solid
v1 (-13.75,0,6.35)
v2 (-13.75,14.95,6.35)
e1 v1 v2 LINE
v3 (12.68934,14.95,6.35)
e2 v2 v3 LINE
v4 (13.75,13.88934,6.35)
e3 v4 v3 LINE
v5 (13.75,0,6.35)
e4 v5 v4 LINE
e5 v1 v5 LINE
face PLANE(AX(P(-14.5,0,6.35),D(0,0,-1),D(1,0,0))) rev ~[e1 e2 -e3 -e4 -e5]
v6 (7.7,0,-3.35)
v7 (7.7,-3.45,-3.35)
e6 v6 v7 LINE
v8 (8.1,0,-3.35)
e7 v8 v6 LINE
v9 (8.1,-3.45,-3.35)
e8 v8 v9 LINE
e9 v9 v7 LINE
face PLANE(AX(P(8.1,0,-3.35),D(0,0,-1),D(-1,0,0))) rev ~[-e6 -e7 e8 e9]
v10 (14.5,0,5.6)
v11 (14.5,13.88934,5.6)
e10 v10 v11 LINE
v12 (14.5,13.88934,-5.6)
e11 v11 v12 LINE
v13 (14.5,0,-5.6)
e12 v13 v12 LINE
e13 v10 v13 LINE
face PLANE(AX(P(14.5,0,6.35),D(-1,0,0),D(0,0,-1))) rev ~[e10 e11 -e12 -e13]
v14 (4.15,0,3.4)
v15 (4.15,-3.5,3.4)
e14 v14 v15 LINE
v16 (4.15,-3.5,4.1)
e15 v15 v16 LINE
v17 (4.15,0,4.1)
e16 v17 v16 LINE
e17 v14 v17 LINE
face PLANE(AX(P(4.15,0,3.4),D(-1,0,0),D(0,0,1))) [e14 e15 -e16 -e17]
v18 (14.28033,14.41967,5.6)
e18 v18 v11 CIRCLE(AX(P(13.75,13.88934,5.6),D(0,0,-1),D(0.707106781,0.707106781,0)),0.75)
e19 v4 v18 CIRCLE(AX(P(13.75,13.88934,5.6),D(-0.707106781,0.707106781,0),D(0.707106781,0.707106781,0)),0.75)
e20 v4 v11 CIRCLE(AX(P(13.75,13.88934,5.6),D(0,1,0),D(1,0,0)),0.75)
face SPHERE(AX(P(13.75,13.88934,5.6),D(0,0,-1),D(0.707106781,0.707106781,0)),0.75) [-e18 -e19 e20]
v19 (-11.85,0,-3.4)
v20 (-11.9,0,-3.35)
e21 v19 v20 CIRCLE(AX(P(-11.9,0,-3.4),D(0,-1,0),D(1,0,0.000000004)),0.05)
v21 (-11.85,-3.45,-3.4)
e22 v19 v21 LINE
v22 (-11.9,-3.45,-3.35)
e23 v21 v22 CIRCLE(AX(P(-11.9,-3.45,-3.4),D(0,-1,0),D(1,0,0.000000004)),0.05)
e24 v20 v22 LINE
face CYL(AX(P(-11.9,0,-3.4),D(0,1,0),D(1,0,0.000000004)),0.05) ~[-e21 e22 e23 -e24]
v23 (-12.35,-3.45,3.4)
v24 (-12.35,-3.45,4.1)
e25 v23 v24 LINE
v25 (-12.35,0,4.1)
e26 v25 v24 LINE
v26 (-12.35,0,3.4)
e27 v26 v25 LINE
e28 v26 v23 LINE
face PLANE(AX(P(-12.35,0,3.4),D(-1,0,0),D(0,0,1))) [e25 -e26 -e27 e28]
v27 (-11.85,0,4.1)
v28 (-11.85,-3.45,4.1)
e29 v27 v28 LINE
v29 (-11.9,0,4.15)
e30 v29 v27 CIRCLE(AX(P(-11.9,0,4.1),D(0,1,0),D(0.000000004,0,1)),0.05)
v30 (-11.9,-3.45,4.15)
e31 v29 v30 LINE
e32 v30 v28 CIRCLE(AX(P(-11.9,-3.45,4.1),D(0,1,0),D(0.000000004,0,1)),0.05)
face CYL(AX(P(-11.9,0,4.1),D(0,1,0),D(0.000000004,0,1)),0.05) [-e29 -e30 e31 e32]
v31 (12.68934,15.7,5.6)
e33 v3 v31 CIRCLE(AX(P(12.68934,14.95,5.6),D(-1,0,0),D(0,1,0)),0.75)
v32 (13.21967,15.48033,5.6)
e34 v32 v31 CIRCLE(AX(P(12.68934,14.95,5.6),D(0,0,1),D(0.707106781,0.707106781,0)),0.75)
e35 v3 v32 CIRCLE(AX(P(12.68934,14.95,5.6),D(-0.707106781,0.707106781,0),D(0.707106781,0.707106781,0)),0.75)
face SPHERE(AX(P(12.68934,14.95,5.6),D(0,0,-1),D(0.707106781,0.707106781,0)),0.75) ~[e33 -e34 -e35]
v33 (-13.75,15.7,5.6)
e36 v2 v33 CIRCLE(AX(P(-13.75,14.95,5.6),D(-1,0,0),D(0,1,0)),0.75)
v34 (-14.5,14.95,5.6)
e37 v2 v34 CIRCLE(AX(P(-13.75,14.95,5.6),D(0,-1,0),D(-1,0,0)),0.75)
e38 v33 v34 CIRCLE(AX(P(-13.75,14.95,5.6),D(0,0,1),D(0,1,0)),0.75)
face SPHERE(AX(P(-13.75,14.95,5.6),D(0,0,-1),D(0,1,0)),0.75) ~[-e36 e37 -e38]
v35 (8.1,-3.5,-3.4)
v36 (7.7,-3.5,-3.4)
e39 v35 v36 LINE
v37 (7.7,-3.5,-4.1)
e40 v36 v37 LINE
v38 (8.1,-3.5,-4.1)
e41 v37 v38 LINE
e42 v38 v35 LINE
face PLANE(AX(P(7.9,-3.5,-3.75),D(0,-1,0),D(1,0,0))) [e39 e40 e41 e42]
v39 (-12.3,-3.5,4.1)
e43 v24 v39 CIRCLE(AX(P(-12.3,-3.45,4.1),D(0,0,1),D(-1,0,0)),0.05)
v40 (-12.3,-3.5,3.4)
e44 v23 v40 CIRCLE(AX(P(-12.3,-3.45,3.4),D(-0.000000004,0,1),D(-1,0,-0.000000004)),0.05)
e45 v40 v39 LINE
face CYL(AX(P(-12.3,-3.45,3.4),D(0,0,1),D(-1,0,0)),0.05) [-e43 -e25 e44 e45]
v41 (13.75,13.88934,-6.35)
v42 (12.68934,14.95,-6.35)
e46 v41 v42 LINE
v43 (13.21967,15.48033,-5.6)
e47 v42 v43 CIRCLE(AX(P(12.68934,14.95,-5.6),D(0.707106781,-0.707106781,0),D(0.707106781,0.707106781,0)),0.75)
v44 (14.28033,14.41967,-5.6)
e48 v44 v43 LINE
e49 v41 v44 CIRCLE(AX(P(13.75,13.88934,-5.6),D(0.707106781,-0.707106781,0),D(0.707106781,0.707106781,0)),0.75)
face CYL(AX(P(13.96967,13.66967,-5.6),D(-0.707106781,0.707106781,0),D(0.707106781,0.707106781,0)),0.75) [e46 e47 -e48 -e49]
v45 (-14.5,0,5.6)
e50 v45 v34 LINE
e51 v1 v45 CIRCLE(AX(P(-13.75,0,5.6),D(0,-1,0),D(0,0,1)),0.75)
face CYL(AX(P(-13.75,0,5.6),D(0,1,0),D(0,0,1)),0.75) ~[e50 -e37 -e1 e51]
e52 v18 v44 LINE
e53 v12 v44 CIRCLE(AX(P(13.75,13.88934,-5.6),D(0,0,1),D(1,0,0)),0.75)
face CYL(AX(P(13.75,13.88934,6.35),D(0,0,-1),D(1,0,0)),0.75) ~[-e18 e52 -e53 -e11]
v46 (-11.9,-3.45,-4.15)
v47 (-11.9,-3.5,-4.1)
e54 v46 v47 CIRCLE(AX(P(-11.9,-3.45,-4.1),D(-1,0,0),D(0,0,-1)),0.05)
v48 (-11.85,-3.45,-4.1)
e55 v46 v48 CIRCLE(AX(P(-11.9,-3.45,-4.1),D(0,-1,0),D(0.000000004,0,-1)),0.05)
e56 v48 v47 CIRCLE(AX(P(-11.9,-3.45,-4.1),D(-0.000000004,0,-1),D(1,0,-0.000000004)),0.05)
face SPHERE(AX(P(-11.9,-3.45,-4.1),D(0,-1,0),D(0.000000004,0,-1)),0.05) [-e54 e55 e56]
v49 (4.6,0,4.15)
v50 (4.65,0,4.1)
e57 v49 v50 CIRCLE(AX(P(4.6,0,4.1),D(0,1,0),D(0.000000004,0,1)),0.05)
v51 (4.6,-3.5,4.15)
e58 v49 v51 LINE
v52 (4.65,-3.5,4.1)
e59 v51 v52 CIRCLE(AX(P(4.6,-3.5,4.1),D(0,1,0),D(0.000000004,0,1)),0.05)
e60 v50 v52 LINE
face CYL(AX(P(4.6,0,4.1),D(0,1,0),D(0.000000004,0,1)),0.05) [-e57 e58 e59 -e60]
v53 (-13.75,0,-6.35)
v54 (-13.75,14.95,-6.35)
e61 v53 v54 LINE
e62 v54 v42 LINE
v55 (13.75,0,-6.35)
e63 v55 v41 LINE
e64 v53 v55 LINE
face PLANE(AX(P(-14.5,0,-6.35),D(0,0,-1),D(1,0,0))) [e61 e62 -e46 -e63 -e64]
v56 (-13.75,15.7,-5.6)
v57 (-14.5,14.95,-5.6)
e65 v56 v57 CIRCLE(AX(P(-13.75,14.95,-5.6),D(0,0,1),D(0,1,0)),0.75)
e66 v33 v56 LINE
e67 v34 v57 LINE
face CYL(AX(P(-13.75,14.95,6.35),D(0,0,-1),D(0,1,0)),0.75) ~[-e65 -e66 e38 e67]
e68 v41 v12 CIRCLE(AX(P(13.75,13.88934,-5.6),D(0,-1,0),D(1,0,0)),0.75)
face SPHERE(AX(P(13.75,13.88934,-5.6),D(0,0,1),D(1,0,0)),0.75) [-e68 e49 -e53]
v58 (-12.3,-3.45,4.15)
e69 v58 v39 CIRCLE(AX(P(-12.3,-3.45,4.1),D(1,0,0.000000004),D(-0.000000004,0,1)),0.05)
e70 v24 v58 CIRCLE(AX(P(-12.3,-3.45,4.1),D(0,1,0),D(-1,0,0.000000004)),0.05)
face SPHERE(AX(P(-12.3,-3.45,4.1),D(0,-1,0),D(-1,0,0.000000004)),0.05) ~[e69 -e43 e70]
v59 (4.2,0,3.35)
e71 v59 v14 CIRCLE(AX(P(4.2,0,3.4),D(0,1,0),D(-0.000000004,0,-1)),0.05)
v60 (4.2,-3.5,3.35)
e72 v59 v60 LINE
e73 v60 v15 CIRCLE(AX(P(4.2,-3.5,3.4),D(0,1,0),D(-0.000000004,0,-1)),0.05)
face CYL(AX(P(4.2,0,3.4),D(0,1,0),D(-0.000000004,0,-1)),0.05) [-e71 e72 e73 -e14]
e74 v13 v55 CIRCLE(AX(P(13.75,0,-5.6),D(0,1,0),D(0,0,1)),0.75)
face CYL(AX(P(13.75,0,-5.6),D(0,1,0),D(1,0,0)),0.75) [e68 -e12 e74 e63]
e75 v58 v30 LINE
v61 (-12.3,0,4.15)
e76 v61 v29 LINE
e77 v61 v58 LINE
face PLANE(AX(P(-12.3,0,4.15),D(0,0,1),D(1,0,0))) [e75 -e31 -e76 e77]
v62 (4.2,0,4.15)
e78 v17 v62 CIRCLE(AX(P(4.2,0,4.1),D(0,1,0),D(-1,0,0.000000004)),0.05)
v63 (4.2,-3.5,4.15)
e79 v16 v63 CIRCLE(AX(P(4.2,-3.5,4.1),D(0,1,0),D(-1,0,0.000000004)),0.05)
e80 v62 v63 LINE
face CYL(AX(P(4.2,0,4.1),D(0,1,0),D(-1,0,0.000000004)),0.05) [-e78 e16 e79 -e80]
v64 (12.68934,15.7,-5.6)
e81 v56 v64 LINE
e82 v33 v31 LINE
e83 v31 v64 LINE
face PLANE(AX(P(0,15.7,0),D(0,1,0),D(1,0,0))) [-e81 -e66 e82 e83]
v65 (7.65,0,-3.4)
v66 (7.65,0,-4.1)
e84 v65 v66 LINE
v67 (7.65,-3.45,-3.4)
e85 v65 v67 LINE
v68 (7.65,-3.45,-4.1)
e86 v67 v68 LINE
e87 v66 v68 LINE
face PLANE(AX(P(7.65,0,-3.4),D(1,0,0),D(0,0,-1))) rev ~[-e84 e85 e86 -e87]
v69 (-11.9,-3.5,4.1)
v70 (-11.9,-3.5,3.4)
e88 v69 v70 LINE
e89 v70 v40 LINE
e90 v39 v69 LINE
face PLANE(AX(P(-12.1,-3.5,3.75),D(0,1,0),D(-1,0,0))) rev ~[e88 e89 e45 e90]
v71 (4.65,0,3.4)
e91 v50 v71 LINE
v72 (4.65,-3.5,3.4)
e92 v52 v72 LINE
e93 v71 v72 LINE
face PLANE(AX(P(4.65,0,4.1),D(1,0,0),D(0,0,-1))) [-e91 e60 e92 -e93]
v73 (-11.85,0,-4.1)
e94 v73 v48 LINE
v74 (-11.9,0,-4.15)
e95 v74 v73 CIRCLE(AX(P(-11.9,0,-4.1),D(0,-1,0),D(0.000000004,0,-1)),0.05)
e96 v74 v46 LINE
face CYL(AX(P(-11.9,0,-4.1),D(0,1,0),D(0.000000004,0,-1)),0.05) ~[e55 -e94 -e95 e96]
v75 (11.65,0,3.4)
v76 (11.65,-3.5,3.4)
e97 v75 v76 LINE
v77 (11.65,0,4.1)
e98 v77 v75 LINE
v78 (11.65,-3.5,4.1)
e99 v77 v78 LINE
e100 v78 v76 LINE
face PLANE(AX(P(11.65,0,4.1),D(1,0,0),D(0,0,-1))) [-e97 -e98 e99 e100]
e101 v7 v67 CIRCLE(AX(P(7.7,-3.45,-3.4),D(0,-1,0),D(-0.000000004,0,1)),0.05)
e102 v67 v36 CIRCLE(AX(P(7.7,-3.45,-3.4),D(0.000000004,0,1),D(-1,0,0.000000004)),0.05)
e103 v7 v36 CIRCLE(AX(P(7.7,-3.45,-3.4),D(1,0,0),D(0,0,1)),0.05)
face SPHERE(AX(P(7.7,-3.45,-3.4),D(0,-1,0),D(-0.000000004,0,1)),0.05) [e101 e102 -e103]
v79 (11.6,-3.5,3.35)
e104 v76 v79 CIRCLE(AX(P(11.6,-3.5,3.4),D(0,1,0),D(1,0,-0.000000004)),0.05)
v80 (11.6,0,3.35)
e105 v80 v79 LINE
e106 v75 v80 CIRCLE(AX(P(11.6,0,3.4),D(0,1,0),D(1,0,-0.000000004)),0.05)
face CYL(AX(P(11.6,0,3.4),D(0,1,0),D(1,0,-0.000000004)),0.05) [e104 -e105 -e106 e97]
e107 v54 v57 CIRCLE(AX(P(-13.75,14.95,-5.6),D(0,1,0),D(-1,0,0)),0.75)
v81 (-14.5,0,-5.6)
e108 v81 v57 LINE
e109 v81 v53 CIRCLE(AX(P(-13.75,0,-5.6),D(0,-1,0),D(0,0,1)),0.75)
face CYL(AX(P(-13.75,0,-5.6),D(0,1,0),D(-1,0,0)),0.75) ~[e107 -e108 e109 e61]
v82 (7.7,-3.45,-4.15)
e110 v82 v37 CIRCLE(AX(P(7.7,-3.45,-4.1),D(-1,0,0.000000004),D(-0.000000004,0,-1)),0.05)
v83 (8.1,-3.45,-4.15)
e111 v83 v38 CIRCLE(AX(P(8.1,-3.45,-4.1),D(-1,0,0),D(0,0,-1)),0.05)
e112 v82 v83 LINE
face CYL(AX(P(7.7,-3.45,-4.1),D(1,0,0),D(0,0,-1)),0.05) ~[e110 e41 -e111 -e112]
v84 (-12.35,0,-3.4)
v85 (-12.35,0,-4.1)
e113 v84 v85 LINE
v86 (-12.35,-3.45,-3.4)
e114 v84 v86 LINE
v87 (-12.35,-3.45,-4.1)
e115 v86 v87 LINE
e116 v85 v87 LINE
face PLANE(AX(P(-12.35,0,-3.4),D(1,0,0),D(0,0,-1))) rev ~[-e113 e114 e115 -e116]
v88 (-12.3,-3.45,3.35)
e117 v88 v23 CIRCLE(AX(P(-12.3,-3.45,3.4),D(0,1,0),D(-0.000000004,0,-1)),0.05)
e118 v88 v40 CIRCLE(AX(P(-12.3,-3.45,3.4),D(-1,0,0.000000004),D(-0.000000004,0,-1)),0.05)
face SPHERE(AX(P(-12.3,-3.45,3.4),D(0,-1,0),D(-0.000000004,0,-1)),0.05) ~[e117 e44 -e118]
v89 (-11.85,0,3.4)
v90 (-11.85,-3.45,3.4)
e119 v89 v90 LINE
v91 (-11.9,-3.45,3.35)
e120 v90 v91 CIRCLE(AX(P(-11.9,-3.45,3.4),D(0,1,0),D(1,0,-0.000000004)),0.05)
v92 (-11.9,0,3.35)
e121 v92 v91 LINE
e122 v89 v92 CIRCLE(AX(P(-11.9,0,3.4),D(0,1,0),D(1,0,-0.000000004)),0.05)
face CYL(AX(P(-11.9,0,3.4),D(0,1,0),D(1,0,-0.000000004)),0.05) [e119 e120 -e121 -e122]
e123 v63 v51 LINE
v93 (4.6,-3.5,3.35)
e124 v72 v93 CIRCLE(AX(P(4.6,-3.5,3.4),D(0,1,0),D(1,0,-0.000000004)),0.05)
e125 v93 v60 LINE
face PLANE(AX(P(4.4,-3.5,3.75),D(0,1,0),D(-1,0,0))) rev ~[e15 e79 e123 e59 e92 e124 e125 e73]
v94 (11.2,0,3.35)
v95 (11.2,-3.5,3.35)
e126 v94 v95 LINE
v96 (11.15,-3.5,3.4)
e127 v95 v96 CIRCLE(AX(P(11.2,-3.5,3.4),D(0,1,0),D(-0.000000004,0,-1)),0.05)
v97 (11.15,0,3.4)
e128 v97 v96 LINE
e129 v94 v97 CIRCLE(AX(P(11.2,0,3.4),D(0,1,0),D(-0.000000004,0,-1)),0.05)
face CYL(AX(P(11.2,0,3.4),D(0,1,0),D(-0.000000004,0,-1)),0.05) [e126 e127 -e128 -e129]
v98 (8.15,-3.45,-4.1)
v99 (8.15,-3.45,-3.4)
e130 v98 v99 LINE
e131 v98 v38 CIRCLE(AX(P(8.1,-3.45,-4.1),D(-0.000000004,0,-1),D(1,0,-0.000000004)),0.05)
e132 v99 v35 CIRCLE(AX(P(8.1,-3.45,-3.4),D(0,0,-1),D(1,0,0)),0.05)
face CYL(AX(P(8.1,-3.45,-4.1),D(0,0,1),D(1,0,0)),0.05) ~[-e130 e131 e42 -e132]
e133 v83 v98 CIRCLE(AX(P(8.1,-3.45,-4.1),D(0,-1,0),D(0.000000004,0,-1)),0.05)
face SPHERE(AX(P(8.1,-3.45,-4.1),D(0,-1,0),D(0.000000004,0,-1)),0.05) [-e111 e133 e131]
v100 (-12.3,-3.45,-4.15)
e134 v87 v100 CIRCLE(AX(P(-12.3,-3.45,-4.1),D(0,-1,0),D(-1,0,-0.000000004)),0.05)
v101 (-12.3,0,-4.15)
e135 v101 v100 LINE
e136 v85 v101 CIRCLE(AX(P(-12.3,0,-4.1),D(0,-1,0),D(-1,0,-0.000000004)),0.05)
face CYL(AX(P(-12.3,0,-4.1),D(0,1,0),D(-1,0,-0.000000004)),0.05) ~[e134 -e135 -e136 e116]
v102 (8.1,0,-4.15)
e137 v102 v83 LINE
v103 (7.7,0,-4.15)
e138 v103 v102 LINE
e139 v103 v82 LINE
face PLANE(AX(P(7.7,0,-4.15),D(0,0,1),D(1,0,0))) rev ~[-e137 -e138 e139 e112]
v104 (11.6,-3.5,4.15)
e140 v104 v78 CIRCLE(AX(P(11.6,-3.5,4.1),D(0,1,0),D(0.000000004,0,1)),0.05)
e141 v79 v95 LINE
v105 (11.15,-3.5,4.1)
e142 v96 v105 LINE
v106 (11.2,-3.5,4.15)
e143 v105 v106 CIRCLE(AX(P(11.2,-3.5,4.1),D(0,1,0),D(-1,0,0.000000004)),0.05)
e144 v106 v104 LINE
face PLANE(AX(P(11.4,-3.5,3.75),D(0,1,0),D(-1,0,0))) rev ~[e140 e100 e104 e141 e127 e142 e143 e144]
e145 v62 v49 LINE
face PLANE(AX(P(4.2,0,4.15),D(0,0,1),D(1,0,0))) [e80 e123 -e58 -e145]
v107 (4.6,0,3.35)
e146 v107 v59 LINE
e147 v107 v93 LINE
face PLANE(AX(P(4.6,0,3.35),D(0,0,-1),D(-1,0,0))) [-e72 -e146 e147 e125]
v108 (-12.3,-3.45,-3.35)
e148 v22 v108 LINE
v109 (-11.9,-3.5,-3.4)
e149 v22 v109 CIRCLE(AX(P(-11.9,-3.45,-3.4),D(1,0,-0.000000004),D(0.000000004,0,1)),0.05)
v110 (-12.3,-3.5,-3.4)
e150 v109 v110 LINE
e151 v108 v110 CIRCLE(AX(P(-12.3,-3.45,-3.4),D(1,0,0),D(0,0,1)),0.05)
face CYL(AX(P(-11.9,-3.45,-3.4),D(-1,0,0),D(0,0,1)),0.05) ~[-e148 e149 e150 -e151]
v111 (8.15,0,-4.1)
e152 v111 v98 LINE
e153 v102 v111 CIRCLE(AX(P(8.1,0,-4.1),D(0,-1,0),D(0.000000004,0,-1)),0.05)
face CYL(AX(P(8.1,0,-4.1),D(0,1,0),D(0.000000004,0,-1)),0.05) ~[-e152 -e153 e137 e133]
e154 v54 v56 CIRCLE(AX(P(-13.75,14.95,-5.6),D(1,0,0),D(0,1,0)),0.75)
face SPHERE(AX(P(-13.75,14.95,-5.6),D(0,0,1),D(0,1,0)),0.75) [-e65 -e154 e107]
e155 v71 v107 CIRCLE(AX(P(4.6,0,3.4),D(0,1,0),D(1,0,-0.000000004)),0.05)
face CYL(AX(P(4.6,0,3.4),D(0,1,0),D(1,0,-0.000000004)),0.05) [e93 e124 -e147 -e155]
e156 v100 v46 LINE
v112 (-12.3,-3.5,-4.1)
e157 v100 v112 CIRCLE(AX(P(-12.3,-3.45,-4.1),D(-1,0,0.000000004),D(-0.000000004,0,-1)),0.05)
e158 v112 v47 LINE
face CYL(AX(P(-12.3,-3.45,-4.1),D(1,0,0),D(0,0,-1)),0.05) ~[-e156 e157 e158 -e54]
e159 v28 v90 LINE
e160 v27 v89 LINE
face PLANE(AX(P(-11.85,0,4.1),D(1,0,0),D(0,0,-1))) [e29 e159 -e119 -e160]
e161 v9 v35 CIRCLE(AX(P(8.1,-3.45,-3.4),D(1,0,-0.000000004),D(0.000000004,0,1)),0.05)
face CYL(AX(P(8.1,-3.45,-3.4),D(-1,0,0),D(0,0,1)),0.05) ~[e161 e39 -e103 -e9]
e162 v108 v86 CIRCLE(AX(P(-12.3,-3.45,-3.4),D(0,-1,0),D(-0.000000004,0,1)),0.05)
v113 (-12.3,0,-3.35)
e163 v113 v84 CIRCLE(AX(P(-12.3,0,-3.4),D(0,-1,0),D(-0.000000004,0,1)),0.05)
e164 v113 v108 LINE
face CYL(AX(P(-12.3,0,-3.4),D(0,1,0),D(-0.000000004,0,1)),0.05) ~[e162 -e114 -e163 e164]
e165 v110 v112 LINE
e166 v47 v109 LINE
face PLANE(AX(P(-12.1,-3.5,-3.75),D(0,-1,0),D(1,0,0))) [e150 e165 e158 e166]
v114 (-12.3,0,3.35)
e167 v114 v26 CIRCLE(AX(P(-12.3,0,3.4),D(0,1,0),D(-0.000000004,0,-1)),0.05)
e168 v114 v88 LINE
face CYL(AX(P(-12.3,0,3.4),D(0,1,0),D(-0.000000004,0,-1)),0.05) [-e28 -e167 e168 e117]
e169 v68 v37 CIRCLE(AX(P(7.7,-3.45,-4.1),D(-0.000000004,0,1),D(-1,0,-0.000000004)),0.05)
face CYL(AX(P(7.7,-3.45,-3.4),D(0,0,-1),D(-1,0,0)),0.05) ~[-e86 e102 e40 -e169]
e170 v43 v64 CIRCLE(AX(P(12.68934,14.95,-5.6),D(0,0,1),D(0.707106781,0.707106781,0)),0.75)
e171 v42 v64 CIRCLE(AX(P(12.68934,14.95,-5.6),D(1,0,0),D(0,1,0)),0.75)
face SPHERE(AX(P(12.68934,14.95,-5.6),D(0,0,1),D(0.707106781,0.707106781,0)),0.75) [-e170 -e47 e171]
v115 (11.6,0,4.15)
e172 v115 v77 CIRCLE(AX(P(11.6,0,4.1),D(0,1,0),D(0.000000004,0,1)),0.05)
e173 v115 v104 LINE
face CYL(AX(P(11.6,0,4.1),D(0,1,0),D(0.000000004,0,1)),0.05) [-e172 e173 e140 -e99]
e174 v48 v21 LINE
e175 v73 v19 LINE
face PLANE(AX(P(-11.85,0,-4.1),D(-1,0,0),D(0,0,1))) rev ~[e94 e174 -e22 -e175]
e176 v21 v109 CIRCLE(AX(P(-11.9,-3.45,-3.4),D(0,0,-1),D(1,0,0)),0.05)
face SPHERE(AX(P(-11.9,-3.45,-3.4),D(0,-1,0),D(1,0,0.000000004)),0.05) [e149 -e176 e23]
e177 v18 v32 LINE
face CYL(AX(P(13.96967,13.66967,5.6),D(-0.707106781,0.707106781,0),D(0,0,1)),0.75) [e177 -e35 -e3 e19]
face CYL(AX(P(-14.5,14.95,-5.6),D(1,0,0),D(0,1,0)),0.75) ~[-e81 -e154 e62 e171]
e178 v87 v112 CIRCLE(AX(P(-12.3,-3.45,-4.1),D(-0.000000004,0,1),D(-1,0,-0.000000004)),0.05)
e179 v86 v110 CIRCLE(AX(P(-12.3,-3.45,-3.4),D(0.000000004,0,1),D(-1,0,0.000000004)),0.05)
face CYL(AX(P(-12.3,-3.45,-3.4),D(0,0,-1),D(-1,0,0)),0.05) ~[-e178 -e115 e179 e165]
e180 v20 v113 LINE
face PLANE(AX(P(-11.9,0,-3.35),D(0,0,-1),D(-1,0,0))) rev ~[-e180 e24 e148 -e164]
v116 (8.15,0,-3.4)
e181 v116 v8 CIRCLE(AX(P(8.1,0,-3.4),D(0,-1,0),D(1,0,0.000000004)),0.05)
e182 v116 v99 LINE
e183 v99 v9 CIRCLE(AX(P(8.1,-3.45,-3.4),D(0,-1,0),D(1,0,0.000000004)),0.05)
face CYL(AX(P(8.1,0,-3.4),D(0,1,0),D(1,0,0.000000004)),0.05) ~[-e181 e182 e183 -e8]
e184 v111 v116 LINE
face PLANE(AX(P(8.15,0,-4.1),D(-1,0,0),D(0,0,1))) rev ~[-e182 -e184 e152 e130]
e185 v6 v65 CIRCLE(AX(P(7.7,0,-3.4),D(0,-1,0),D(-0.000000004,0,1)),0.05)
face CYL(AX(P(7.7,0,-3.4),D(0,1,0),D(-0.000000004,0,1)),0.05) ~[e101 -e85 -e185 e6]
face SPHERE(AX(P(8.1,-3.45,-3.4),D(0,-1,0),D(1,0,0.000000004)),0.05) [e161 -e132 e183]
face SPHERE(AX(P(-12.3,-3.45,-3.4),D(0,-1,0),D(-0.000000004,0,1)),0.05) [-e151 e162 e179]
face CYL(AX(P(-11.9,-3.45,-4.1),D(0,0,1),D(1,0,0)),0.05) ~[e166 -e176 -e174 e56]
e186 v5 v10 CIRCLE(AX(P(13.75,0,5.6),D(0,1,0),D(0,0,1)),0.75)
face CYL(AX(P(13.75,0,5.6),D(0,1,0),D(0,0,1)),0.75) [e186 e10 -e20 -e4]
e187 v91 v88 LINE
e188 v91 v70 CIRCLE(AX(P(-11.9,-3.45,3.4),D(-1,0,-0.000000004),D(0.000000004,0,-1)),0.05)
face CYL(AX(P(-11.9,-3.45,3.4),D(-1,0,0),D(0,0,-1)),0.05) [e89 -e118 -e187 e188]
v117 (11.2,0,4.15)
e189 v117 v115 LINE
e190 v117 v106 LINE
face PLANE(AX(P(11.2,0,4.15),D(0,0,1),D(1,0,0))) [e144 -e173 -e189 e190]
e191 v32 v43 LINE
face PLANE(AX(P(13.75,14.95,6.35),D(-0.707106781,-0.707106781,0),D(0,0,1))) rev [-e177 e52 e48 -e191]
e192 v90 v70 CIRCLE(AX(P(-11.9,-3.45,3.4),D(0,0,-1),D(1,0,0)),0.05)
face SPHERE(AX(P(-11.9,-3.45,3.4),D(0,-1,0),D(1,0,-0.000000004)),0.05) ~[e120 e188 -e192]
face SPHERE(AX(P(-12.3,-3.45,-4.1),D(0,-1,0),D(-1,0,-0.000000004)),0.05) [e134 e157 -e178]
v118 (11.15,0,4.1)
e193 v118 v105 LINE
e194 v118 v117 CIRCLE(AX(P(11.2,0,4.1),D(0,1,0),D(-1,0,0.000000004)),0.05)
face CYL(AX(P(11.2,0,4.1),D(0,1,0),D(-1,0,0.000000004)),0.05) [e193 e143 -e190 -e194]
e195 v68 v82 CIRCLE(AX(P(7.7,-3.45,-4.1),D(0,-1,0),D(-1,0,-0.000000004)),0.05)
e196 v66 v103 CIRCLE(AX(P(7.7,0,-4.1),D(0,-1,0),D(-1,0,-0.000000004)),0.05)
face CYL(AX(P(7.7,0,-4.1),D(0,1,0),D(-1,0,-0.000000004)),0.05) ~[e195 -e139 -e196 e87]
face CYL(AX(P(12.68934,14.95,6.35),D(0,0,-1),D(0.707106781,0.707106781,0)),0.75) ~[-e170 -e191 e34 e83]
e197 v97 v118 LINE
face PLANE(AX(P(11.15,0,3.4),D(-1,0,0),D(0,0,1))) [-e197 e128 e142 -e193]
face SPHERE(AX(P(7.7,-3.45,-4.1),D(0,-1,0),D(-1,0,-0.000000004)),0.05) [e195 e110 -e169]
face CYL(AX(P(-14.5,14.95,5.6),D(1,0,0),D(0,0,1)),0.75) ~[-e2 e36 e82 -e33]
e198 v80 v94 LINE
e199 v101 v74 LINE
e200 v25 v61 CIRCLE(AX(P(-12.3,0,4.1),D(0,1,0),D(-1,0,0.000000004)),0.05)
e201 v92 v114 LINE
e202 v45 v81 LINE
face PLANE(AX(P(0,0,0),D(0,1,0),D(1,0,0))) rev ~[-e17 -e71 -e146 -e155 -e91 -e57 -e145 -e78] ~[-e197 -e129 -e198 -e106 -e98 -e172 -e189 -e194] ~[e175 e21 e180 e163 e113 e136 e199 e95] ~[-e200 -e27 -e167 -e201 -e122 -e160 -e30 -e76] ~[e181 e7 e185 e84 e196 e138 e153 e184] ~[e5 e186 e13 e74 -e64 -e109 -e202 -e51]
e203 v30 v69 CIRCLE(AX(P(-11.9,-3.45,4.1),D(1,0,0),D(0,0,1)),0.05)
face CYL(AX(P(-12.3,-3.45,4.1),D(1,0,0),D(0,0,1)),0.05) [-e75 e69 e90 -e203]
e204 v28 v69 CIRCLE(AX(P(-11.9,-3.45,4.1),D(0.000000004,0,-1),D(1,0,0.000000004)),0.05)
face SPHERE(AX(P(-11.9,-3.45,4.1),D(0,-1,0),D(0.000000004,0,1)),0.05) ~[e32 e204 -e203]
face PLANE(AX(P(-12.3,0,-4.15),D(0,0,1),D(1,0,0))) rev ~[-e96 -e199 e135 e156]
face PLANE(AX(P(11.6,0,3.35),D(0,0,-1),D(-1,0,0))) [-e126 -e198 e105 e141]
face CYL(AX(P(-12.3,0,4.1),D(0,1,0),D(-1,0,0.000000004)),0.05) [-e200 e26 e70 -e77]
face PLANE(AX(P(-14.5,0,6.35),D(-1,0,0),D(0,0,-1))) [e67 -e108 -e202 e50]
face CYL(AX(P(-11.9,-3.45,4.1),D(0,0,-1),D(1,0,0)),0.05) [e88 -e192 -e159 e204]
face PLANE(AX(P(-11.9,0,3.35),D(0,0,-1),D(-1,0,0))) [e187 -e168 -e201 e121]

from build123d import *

# Parameters (mm, degrees)
SKETCH_1_W      = 29
SKETCH_1_H      = 12.7
EXTRUDE_1_DEPTH = 15.7
EXTRUDE_2_DEPTH = 3.5
FILLET_1_R      = 0.05
CHAMFER_1_SIZE  = 1.5
FILLET_2_R      = 0.75


with BuildPart() as part:
    # Эскиз1 → Бобышка-Вытянуть1 (new body)
    with BuildSketch(Plane(origin=(0, 0, 0), x_dir=(1, 0, 0), z_dir=(0, 1, 0))):
        Rectangle(SKETCH_1_W, SKETCH_1_H)
    extrude(amount=EXTRUDE_1_DEPTH)

    # Эскиз2 → Бобышка-Вытянуть2 (add)
    with BuildSketch(Plane.XZ):
        with BuildLine():
            Line((-12.3, 4.15), (-11.9, 4.15))
            ThreePointArc((-11.9, 4.15), (-11.864644661, 4.135355339), (-11.85, 4.1))
            Line((-11.85, 4.1), (-11.85, 3.4))
            ThreePointArc((-11.85, 3.4), (-11.864644661, 3.364644661), (-11.9, 3.35))
            Line((-11.9, 3.35), (-12.3, 3.35))
            ThreePointArc((-12.3, 3.35), (-12.335355339, 3.364644661), (-12.35, 3.4))
            Line((-12.35, 3.4), (-12.35, 4.1))
            ThreePointArc((-12.35, 4.1), (-12.335355339, 4.135355339), (-12.3, 4.15))
        make_face()
        with BuildLine():
            Line((7.65, -3.4), (7.65, -4.1))
            ThreePointArc((7.65, -4.1), (7.664644661, -4.135355339), (7.7, -4.15))
            Line((7.7, -4.15), (8.1, -4.15))
            ThreePointArc((8.1, -4.15), (8.135355339, -4.135355339), (8.15, -4.1))
            Line((8.15, -4.1), (8.15, -3.4))
            ThreePointArc((8.15, -3.4), (8.135355339, -3.364644661), (8.1, -3.35))
            Line((8.1, -3.35), (7.7, -3.35))
            ThreePointArc((7.7, -3.35), (7.664644661, -3.364644661), (7.65, -3.4))
        make_face()
        with BuildLine():
            Line((-12.35, -3.4), (-12.35, -4.1))
            ThreePointArc((-12.35, -4.1), (-12.335355339, -4.135355339), (-12.3, -4.15))
            Line((-12.3, -4.15), (-11.9, -4.15))
            ThreePointArc((-11.9, -4.15), (-11.864644661, -4.135355339), (-11.85, -4.1))
            Line((-11.85, -4.1), (-11.85, -3.4))
            ThreePointArc((-11.85, -3.4), (-11.864644661, -3.364644661), (-11.9, -3.35))
            Line((-11.9, -3.35), (-12.3, -3.35))
            ThreePointArc((-12.3, -3.35), (-12.335355339, -3.364644661), (-12.35, -3.4))
        make_face()
        with BuildLine():
            Line((11.2, 4.15), (11.6, 4.15))
            ThreePointArc((11.6, 4.15), (11.635355339, 4.135355339), (11.65, 4.1))
            Line((11.65, 4.1), (11.65, 3.4))
            ThreePointArc((11.65, 3.4), (11.635355339, 3.364644661), (11.6, 3.35))
            Line((11.6, 3.35), (11.2, 3.35))
            ThreePointArc((11.2, 3.35), (11.164644661, 3.364644661), (11.15, 3.4))
            Line((11.15, 3.4), (11.15, 4.1))
            ThreePointArc((11.15, 4.1), (11.164644661, 4.135355339), (11.2, 4.15))
        make_face()
        with BuildLine():
            Line((4.2, 4.15), (4.6, 4.15))
            ThreePointArc((4.6, 4.15), (4.635355339, 4.135355339), (4.65, 4.1))
            Line((4.65, 4.1), (4.65, 3.4))
            ThreePointArc((4.65, 3.4), (4.635355339, 3.364644661), (4.6, 3.35))
            Line((4.6, 3.35), (4.2, 3.35))
            ThreePointArc((4.2, 3.35), (4.164644661, 3.364644661), (4.15, 3.4))
            Line((4.15, 3.4), (4.15, 4.1))
            ThreePointArc((4.15, 4.1), (4.164644661, 4.135355339), (4.2, 4.15))
        make_face()
    extrude(amount=EXTRUDE_2_DEPTH)

    # Скругление1
    fillet_1_edges = [part.edges().sort_by_distance(p)[0] for p in [
        (-12.335355339, -3.5, -4.135355339),
        (-12.1, -3.5, -4.15),
        (-11.864644661, -3.5, -4.135355339),
        (-11.85, -3.5, -3.75),
        (-11.864644661, -3.5, -3.364644661),
        (-12.1, -3.5, -3.35),
        (-12.335355339, -3.5, -3.364644661),
        (-12.35, -3.5, -3.75),
        (-12.335355339, -3.5, 3.364644661),
        (-12.1, -3.5, 3.35),
        (-11.864644661, -3.5, 3.364644661),
        (-11.85, -3.5, 3.75),
        (-11.864644661, -3.5, 4.135355339),
        (-12.1, -3.5, 4.15),
        (-12.335355339, -3.5, 4.135355339),
        (-12.35, -3.5, 3.75),
        (7.664644661, -3.5, -4.135355339),
        (7.9, -3.5, -4.15),
        (8.135355339, -3.5, -4.135355339),
        (8.15, -3.5, -3.75),
        (8.135355339, -3.5, -3.364644661),
        (7.9, -3.5, -3.35),
        (7.664644661, -3.5, -3.364644661),
        (7.65, -3.5, -3.75),
    ]]
    fillet(fillet_1_edges, radius=FILLET_1_R)

    # Фаска1
    chamfer_1_edges = [part.edges().sort_by_distance(p)[0] for p in [
        (14.5, 15.7, 0),
    ]]
    chamfer(chamfer_1_edges, length=CHAMFER_1_SIZE)

    # Скругление2
    fillet_2_edges = [part.edges().sort_by_distance(p)[0] for p in [
        (-14.5, 15.7, 0),
        (-0.75, 15.7, 6.35),
        (-0.75, 15.7, -6.35),
        (13, 15.7, 0),
        (14.5, 7.1, -6.35),
        (13.75, 14.95, -6.35),
        (14.5, 7.1, 6.35),
        (14.5, 14.2, 0),
        (13.75, 14.95, 6.35),
        (-14.5, 7.85, 6.35),
        (-14.5, 7.85, -6.35),
    ]]
    fillet(fillet_2_edges, radius=FILLET_2_R)


solid = part.part
